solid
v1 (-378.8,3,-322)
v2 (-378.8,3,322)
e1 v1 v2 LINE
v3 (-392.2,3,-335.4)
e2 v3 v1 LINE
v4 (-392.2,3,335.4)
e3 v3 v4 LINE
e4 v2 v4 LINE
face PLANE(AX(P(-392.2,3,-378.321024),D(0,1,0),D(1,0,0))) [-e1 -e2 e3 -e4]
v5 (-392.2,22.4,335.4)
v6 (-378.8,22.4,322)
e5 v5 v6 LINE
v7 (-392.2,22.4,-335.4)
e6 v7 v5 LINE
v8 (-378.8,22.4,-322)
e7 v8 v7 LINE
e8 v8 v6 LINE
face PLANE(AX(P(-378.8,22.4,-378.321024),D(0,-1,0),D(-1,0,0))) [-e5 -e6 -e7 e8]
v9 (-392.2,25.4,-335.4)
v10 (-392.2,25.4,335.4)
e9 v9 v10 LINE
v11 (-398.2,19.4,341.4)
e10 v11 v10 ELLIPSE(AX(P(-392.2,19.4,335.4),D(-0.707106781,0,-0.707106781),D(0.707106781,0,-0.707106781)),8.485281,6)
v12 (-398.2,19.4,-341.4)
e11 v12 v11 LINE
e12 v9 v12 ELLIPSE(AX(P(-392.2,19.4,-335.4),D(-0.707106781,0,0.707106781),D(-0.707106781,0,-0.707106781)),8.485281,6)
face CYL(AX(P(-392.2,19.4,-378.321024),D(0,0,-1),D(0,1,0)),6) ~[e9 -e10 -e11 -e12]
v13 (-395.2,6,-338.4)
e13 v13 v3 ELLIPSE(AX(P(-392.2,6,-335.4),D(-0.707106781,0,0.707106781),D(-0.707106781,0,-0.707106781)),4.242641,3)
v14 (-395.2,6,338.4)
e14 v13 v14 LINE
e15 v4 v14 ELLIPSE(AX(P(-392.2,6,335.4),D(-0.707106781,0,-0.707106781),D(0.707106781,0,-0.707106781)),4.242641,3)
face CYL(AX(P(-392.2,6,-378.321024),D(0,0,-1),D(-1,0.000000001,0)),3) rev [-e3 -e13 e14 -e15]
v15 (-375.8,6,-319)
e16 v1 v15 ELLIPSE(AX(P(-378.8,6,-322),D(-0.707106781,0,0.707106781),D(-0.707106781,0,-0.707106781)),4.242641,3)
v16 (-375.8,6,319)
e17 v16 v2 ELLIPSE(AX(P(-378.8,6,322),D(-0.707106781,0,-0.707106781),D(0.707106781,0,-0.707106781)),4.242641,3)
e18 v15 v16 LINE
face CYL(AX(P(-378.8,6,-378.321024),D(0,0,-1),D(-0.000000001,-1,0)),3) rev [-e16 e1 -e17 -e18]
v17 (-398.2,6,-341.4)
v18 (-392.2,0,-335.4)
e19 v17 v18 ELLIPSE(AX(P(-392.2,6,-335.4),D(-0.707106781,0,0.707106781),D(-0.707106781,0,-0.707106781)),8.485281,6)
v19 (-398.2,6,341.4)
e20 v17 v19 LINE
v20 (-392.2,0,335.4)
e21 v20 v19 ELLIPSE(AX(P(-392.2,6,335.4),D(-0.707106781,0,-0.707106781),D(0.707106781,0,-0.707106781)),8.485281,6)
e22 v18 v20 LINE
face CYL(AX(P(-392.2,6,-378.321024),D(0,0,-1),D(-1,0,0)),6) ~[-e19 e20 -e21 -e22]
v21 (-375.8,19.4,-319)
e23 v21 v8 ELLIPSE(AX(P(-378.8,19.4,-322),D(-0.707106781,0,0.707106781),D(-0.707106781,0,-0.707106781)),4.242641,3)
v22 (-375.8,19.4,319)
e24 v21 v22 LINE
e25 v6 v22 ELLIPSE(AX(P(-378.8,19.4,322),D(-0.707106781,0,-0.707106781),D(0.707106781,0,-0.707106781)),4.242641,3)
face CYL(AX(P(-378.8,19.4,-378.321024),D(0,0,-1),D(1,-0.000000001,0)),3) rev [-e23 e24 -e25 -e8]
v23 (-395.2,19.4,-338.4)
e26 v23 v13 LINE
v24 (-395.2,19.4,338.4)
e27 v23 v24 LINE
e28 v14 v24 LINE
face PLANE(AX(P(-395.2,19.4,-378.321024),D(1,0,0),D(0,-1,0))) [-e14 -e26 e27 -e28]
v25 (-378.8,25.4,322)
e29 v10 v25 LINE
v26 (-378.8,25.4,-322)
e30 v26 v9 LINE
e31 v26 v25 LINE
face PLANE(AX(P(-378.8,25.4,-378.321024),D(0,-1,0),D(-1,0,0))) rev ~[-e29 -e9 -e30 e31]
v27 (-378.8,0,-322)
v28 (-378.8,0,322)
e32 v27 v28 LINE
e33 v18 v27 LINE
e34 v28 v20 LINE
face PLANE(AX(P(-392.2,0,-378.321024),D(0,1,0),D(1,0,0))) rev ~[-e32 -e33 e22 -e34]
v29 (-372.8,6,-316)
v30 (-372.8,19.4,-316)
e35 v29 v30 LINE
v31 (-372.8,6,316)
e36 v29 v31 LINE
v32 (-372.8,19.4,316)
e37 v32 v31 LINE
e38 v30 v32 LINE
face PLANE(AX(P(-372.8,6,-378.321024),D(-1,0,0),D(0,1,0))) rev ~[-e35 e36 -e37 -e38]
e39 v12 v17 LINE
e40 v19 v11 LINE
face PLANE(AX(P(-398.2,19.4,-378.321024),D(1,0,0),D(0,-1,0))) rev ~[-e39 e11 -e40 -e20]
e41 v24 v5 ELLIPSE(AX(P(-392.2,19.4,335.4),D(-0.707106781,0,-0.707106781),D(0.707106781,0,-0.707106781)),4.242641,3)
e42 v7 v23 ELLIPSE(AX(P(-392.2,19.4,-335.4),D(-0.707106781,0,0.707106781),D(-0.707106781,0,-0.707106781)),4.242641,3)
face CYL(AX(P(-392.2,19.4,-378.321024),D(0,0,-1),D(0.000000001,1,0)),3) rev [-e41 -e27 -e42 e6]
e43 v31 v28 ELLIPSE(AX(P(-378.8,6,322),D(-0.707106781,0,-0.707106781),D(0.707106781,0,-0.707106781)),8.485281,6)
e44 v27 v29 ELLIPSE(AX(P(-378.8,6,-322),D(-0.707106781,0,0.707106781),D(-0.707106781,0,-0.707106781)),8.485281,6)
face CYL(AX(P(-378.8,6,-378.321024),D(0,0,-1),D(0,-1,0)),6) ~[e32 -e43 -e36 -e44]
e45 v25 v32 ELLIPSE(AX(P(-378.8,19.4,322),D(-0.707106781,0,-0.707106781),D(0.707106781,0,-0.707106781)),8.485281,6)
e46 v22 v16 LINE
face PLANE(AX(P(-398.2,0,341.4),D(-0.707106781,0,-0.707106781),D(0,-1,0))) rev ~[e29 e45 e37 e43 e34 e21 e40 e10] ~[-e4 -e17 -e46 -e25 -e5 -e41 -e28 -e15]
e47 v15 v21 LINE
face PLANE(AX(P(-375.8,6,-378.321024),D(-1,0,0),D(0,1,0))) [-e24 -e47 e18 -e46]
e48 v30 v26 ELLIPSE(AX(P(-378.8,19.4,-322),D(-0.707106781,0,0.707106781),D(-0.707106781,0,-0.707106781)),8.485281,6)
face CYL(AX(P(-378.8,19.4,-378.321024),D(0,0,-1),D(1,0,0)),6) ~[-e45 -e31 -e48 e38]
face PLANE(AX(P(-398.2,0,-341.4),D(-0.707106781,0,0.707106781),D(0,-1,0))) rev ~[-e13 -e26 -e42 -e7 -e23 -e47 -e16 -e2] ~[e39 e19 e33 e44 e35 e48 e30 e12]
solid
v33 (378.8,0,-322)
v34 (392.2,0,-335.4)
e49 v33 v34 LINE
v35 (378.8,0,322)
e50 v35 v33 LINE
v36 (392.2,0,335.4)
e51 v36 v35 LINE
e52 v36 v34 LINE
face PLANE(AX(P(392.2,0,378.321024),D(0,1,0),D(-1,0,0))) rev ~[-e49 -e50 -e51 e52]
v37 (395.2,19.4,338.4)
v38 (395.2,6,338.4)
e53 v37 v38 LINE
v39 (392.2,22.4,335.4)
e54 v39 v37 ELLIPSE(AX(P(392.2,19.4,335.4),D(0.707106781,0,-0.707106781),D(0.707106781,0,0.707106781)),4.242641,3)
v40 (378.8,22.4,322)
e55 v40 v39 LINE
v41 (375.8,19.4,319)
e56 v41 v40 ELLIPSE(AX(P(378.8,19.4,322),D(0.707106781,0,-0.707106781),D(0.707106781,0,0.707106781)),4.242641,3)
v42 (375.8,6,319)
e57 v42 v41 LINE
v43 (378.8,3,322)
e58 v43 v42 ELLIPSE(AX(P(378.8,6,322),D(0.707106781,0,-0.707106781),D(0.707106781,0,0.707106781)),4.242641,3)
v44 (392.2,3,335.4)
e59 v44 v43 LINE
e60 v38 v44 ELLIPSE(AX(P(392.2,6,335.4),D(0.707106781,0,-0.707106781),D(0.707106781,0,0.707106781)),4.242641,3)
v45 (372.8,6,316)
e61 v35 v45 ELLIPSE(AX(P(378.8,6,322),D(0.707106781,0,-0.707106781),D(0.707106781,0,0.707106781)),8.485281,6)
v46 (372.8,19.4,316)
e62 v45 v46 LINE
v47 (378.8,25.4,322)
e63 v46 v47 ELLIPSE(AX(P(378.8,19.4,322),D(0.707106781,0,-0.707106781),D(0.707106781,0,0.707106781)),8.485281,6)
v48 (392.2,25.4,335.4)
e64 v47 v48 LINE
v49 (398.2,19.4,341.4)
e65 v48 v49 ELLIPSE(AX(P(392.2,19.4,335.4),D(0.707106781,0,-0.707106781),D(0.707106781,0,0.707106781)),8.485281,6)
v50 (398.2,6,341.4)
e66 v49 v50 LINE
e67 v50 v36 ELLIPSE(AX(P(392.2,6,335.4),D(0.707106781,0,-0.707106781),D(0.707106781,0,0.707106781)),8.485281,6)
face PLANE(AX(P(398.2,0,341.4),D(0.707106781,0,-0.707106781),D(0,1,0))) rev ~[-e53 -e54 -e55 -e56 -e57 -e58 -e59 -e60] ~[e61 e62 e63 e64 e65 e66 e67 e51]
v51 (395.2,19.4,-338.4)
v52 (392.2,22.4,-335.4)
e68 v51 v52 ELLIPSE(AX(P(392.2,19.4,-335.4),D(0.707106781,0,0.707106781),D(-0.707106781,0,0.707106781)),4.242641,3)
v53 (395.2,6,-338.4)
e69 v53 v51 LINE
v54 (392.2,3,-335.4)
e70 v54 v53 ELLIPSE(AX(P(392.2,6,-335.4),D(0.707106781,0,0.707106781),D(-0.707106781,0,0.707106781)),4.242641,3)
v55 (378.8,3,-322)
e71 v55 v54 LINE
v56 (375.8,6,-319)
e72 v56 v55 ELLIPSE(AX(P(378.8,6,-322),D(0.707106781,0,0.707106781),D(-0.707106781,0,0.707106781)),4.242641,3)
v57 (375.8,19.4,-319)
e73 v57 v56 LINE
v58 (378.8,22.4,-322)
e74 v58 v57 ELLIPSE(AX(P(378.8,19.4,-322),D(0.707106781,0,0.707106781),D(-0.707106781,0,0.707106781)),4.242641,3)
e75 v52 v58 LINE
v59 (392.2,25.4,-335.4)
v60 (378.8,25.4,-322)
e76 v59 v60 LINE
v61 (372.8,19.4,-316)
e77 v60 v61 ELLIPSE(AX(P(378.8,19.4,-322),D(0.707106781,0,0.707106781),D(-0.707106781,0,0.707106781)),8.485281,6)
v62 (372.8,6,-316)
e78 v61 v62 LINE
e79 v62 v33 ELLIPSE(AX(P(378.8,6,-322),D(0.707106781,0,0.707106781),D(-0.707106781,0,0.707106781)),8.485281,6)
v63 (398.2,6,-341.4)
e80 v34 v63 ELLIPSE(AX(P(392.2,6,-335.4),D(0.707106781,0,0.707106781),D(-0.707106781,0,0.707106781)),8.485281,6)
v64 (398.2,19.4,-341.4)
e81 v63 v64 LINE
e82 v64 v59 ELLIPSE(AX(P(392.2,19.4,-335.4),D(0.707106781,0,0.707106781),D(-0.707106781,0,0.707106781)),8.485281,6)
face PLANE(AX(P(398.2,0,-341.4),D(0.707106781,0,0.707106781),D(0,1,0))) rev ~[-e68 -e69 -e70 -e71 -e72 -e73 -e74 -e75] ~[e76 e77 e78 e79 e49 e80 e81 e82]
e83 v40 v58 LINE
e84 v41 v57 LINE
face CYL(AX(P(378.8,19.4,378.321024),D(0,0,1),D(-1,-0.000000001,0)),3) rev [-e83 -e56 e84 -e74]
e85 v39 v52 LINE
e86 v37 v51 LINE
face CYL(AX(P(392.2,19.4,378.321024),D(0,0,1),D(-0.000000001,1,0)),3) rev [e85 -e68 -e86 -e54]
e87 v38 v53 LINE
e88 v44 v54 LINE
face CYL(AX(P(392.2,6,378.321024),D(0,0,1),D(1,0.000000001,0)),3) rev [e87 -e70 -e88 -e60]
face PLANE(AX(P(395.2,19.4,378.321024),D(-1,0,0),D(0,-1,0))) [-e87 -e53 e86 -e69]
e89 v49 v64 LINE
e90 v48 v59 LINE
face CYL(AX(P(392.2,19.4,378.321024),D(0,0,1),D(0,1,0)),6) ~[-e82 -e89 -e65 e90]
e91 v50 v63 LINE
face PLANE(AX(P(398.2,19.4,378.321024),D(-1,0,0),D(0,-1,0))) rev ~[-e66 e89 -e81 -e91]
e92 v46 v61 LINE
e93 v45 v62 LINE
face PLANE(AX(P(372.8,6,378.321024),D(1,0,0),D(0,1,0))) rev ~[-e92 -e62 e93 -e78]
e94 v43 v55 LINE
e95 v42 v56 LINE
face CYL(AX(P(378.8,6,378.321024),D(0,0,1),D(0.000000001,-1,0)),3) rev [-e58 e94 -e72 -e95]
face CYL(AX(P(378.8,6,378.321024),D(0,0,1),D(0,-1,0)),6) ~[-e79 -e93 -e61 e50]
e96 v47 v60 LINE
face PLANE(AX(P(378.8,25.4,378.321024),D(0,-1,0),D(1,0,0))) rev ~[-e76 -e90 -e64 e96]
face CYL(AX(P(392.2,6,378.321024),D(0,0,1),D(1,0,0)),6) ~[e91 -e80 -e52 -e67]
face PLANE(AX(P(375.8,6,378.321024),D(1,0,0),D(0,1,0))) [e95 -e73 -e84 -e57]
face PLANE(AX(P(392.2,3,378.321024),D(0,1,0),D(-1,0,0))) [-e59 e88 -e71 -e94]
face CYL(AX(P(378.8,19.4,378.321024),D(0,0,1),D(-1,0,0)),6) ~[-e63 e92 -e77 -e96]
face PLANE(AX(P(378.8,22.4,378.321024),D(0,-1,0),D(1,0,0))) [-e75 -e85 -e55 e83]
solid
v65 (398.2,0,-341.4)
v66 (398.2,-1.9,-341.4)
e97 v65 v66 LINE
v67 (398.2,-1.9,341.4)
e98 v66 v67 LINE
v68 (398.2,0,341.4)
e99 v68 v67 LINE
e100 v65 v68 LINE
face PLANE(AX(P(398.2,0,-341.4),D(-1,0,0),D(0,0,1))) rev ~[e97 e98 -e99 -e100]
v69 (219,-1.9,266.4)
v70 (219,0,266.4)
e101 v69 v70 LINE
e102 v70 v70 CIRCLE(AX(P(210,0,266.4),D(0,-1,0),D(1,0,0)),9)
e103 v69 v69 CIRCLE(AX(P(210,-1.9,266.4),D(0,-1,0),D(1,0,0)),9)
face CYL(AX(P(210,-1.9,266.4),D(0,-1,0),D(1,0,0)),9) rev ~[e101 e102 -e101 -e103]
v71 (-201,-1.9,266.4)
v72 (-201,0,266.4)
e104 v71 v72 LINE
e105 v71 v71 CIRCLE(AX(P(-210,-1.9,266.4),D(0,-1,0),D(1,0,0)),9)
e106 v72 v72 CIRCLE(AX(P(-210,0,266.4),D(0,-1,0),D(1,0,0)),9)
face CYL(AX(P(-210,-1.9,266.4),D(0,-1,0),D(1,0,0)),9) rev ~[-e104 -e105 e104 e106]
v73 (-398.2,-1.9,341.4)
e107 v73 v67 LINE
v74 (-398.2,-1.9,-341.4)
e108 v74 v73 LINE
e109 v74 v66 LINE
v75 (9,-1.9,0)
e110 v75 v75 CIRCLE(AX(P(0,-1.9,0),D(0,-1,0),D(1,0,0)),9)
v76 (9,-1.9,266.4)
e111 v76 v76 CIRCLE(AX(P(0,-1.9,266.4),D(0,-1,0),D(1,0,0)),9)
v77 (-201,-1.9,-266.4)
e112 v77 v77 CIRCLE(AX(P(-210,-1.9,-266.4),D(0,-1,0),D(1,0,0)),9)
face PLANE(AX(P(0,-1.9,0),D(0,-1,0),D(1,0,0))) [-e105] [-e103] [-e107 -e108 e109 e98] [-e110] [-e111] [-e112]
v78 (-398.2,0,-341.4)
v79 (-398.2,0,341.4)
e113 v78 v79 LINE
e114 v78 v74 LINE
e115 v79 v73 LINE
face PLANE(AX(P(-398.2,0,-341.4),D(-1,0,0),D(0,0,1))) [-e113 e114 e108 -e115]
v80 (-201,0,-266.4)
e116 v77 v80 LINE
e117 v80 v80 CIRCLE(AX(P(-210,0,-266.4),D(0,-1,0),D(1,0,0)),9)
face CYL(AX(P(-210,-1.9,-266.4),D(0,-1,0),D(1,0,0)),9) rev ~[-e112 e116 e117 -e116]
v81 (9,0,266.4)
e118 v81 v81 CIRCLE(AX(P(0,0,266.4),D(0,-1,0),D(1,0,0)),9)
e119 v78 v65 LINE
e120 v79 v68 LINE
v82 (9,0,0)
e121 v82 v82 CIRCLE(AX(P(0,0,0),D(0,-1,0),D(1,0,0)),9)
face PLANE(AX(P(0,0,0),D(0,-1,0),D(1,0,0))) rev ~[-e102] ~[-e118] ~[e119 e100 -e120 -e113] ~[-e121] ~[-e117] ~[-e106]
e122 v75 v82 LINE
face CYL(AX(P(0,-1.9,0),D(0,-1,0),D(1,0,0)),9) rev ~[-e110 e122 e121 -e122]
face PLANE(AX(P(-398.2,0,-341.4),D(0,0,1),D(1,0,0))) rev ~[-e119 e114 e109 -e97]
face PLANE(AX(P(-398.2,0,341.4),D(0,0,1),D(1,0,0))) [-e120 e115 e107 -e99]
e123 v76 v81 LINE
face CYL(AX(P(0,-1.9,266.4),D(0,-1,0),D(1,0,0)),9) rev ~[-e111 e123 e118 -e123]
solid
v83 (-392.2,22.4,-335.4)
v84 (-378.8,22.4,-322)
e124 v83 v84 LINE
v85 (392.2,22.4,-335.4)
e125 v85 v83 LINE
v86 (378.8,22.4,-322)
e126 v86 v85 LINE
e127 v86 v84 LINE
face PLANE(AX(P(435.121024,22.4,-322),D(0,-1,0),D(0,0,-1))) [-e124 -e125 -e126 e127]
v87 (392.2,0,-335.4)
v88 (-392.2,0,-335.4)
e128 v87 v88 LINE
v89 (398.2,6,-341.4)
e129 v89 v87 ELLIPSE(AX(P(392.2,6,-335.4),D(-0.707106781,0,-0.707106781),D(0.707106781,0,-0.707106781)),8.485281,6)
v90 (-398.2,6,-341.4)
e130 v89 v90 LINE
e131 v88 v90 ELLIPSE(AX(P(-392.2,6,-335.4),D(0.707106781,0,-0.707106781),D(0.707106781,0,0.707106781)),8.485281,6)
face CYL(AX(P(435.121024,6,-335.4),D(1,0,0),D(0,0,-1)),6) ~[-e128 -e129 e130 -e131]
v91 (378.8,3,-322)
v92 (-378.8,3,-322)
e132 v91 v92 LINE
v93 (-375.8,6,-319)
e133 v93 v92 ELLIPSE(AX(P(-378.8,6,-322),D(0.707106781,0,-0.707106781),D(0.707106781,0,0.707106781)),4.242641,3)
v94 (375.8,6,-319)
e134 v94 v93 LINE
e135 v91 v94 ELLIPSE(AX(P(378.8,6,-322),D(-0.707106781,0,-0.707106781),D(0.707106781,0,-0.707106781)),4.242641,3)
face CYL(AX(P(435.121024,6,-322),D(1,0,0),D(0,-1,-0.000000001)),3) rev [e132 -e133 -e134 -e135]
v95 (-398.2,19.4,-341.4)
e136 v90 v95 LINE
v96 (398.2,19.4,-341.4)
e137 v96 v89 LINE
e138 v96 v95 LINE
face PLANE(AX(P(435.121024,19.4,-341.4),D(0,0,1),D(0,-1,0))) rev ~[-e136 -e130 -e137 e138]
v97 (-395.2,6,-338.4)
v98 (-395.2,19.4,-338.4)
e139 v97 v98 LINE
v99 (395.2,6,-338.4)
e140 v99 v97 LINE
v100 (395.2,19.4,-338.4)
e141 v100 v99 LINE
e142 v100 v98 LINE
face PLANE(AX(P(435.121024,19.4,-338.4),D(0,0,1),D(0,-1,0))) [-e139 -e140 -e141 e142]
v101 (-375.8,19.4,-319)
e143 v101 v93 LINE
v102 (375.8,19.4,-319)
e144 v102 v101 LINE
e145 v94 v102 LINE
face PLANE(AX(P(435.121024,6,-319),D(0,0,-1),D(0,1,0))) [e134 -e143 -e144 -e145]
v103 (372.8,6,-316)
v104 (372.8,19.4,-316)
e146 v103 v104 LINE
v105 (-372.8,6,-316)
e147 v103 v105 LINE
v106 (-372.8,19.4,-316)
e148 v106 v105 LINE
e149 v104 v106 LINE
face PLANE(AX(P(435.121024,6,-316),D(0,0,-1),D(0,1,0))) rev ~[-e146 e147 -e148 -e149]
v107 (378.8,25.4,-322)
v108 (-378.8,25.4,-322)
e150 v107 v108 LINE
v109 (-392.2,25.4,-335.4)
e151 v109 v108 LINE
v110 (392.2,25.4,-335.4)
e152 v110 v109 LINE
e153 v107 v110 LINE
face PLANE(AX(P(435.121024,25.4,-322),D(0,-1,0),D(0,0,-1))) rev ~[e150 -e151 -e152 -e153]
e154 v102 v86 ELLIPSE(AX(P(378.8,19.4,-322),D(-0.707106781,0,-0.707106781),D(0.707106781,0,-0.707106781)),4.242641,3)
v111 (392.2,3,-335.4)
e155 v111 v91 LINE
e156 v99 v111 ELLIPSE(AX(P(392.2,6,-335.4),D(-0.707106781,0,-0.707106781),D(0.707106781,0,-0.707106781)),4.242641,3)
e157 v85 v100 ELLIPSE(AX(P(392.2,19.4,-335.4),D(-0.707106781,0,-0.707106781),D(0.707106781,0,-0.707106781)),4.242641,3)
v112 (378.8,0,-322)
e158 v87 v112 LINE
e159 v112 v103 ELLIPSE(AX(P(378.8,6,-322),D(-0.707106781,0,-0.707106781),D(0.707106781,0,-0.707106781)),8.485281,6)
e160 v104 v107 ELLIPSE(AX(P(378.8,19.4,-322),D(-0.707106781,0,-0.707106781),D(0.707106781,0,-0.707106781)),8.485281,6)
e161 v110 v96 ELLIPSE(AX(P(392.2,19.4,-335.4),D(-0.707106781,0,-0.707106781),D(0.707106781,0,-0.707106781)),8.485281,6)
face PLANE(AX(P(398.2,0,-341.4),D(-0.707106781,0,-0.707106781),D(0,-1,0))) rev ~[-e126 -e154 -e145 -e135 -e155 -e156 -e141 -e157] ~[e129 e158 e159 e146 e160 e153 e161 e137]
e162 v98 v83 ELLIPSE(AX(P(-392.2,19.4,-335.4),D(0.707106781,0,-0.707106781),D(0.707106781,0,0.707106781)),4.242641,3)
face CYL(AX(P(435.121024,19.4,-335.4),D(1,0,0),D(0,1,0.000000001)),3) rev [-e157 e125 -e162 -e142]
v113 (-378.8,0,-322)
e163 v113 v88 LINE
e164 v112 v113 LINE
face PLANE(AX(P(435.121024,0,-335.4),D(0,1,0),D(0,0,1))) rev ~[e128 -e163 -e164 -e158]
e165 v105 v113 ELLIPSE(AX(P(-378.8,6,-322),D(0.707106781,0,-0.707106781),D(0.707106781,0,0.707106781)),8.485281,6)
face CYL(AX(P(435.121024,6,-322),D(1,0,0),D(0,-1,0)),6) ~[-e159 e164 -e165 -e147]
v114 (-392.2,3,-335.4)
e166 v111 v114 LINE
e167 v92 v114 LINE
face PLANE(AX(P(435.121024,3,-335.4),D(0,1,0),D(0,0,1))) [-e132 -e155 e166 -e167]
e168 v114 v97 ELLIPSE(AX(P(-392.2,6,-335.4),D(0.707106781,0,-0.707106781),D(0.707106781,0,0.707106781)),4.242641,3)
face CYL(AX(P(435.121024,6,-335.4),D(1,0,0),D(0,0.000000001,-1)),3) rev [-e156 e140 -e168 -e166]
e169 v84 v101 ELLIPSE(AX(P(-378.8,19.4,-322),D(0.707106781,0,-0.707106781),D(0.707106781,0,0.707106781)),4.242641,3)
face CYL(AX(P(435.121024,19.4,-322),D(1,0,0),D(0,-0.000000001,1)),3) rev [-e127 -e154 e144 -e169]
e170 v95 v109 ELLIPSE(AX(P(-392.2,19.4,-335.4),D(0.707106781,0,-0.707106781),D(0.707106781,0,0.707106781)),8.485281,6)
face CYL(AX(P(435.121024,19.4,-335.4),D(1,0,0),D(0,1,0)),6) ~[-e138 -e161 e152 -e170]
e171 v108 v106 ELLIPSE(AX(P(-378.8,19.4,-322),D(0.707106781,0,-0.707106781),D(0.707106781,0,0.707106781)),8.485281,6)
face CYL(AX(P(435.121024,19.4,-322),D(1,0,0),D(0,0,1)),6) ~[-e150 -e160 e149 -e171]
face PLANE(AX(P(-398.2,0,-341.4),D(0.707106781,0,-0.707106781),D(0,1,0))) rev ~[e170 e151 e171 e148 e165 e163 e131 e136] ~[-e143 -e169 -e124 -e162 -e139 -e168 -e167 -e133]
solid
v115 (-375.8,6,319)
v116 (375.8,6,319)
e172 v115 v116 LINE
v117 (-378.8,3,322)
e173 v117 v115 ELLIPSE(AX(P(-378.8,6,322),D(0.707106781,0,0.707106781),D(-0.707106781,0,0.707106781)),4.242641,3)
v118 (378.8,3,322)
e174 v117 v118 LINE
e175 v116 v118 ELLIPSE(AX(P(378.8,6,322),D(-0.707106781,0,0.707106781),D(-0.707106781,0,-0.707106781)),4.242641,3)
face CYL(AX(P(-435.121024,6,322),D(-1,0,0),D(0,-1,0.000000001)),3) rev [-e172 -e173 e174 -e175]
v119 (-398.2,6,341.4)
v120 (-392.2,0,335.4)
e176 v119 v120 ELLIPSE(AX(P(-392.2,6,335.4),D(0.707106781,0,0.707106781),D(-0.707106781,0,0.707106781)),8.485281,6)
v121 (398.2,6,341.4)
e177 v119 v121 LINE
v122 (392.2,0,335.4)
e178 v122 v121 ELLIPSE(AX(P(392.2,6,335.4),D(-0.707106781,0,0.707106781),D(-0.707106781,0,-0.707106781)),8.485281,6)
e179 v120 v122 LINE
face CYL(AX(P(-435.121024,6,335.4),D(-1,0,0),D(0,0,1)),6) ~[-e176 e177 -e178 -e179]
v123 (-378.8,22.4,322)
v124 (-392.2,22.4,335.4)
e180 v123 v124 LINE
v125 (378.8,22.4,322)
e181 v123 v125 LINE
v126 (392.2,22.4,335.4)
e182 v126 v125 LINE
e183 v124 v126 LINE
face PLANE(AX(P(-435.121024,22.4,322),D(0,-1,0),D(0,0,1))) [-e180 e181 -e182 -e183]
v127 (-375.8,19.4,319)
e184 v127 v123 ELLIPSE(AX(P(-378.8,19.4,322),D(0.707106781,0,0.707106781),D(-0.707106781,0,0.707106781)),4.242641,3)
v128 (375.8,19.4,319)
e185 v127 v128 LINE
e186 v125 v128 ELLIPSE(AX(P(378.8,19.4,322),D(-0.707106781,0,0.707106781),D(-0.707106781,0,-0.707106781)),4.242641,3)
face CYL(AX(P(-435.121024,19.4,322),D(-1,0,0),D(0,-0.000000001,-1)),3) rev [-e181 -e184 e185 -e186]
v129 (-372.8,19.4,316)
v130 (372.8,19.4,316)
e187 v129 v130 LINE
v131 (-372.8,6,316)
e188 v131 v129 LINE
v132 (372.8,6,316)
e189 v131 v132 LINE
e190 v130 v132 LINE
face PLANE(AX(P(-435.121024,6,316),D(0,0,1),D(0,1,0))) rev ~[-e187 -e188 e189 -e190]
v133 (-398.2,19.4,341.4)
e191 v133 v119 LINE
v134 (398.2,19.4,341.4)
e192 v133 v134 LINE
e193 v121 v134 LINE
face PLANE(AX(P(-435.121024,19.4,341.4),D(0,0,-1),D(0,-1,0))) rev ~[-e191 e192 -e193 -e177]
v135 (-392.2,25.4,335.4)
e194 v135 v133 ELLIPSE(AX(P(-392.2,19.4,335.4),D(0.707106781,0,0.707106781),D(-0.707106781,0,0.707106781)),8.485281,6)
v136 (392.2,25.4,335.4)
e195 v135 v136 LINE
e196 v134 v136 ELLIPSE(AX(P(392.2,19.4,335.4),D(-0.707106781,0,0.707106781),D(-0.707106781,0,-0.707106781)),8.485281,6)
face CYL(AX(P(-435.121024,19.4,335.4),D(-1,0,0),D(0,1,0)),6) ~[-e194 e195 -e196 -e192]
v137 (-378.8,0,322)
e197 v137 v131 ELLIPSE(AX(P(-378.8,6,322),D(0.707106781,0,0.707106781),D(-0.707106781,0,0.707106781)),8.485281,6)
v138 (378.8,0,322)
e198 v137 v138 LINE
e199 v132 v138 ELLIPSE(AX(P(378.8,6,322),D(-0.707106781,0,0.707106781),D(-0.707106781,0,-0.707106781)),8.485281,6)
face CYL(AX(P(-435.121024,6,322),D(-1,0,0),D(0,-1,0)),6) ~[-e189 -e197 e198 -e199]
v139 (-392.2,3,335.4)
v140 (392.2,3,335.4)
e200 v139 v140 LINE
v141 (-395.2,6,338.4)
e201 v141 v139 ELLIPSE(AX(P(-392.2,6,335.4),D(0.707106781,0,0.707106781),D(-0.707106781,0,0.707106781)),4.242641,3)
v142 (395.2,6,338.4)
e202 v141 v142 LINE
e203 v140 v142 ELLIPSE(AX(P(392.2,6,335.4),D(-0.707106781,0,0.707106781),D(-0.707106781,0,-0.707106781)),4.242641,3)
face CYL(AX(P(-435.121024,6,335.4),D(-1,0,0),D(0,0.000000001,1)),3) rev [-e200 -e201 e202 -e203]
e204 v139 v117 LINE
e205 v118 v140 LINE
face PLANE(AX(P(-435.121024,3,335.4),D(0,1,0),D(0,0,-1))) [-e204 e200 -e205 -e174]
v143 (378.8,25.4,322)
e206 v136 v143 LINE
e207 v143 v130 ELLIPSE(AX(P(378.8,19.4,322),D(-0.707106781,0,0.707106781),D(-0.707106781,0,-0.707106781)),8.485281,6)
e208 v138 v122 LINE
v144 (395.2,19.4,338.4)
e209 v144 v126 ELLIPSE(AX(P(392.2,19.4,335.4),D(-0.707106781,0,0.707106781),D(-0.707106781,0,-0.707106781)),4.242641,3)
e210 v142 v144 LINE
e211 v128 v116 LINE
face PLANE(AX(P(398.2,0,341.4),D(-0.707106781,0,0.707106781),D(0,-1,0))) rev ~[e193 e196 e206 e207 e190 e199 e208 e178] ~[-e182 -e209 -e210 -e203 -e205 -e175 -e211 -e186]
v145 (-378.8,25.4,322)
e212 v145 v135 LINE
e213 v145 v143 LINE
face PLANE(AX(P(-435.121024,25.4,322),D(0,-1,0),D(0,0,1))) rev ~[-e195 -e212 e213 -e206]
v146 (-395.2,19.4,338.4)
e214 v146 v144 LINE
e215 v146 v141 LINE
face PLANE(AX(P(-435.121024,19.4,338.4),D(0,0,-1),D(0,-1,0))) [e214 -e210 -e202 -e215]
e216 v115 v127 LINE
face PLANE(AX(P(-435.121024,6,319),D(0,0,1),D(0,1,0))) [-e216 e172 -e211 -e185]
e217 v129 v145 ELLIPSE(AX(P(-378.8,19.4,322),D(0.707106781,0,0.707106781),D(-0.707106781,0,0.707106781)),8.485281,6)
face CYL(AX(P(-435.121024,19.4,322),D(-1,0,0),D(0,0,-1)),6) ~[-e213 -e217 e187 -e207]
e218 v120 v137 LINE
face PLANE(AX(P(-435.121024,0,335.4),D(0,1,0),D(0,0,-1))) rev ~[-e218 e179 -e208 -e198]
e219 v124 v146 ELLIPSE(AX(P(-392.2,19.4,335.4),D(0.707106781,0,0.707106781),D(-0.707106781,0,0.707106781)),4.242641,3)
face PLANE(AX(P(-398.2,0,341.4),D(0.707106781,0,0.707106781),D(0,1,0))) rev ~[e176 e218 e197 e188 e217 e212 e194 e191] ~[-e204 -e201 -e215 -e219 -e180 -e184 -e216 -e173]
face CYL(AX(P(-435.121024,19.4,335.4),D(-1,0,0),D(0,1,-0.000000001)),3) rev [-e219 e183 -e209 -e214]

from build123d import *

# Parameters (mm, degrees)
TUBO_CUADRADO_2_X_2_X_0_25_1_DEPTH      = 719.721024484
TUBO_CUADRADO_2_X_2_X_0_25_1_DEPTH_BACK = 36.921024484
TUBO_CUADRADO_2_X_2_X_0_25_1_2_DEPTH    = 870.242048969
TUBO_CUADRADO_2_X_2_X_0_25_1_3_DEPTH    = 756.642048969
TUBO_CUADRADO_2_X_2_X_0_25_1_4_DEPTH    = 870.242048969
CROQUIS3_W                              = 796.4
CROQUIS3_H                              = 682.8
SALIENTE_EXTRUIR1_DEPTH                 = 1.9
CROQUIS6_R                              = 9
CORTAR_EXTRUIR2_DEPTH                   = 10


with BuildPart() as part:
    # Sketch1 → Tubo cuadrado 2 X 2 X 0.25(1) (new, two sides: drawn at the far end of the back side and taken through both)
    with BuildSketch(Plane(origin=(-385.5, 12.7, -341.4), x_dir=(1, 0, 0), z_dir=(0, 0, 1)).offset(-TUBO_CUADRADO_2_X_2_X_0_25_1_DEPTH_BACK)):
        with BuildLine():
            Line((-6.7, -12.7), (6.7, -12.7))
            ThreePointArc((6.7, -12.7), (10.942640687, -10.942640687), (12.7, -6.7))
            Line((12.7, -6.7), (12.7, 6.7))
            ThreePointArc((12.7, 6.7), (10.942640687, 10.942640687), (6.7, 12.7))
            Line((6.7, 12.7), (-6.7, 12.7))
            ThreePointArc((-6.7, 12.7), (-10.942640687, 10.942640687), (-12.7, 6.7))
            Line((-12.7, 6.7), (-12.7, -6.7))
            ThreePointArc((-12.7, -6.7), (-10.942640687, -10.942640687), (-6.7, -12.7))
        make_face()
        with BuildLine():
            Line((-6.7, -9.7), (6.7, -9.7))
            ThreePointArc((6.7, -9.7), (8.821320344, -8.821320344), (9.7, -6.7))
            Line((9.7, -6.7), (9.7, 6.7))
            ThreePointArc((9.7, 6.7), (8.821320344, 8.821320344), (6.7, 9.7))
            Line((6.7, 9.7), (-6.7, 9.7))
            ThreePointArc((-6.7, 9.7), (-8.821320344, 8.821320344), (-9.7, 6.7))
            Line((-9.7, 6.7), (-9.7, -6.7))
            ThreePointArc((-9.7, -6.7), (-8.821320344, -8.821320344), (-6.7, -9.7))
        make_face(mode=Mode.SUBTRACT)
    extrude(amount=TUBO_CUADRADO_2_X_2_X_0_25_1_DEPTH + TUBO_CUADRADO_2_X_2_X_0_25_1_DEPTH_BACK)

    # Tubo cuadrado 2 X 2 X 0.25(1) mitre 1
    split(bisect_by=Plane(origin=(-398.2, 0, -341.4), x_dir=(0, -1, 0), z_dir=(-0.707106781, 0, 0.707106781)), keep=Keep.TOP)

    # Tubo cuadrado 2 X 2 X 0.25(1) mitre 2
    split(bisect_by=Plane(origin=(-398.2, 0, 341.4), x_dir=(0, -1, 0), z_dir=(-0.707106781, 0, -0.707106781)), keep=Keep.TOP)


with BuildPart() as body_2:
    # Sketch1 on segment 2 (carried to segment 2) → Tubo cuadrado 2 X 2 X 0.25_1 2 (new body)
    with BuildSketch(Plane(origin=(-435.121024484, 12.7, 328.7), x_dir=(0, 0, -1), z_dir=(1, 0, 0))):
        with BuildLine():
            Line((-6.7, -12.7), (6.7, -12.7))
            ThreePointArc((6.7, -12.7), (10.942640687, -10.942640687), (12.7, -6.7))
            Line((12.7, -6.7), (12.7, 6.7))
            ThreePointArc((12.7, 6.7), (10.942640687, 10.942640687), (6.7, 12.7))
            Line((6.7, 12.7), (-6.7, 12.7))
            ThreePointArc((-6.7, 12.7), (-10.942640687, 10.942640687), (-12.7, 6.7))
            Line((-12.7, 6.7), (-12.7, -6.7))
            ThreePointArc((-12.7, -6.7), (-10.942640687, -10.942640687), (-6.7, -12.7))
        make_face()
        with BuildLine():
            Line((-6.7, -9.7), (6.7, -9.7))
            ThreePointArc((6.7, -9.7), (8.821320344, -8.821320344), (9.7, -6.7))
            Line((9.7, -6.7), (9.7, 6.7))
            ThreePointArc((9.7, 6.7), (8.821320344, 8.821320344), (6.7, 9.7))
            Line((6.7, 9.7), (-6.7, 9.7))
            ThreePointArc((-6.7, 9.7), (-8.821320344, 8.821320344), (-9.7, 6.7))
            Line((-9.7, 6.7), (-9.7, -6.7))
            ThreePointArc((-9.7, -6.7), (-8.821320344, -8.821320344), (-6.7, -9.7))
        make_face(mode=Mode.SUBTRACT)
    extrude(amount=TUBO_CUADRADO_2_X_2_X_0_25_1_2_DEPTH)

    # Tubo cuadrado 2 X 2 X 0.25_1 2 mitre 1
    split(bisect_by=Plane(origin=(-398.2, 0, 341.4), x_dir=(0, 1, 0), z_dir=(0.707106781, 0, 0.707106781)), keep=Keep.TOP)

    # Tubo cuadrado 2 X 2 X 0.25_1 2 mitre 2
    split(bisect_by=Plane(origin=(398.2, 0, 341.4), x_dir=(0, -1, 0), z_dir=(-0.707106781, 0, 0.707106781)), keep=Keep.TOP)


with BuildPart() as body_3:
    # Sketch1 on segment 3 (carried to segment 3) → Tubo cuadrado 2 X 2 X 0.25_1 3 (new body)
    with BuildSketch(Plane(origin=(385.5, 12.7, 378.321024484), x_dir=(-1, 0, 0), z_dir=(0, 0, -1))):
        with BuildLine():
            Line((-6.7, -12.7), (6.7, -12.7))
            ThreePointArc((6.7, -12.7), (10.942640687, -10.942640687), (12.7, -6.7))
            Line((12.7, -6.7), (12.7, 6.7))
            ThreePointArc((12.7, 6.7), (10.942640687, 10.942640687), (6.7, 12.7))
            Line((6.7, 12.7), (-6.7, 12.7))
            ThreePointArc((-6.7, 12.7), (-10.942640687, 10.942640687), (-12.7, 6.7))
            Line((-12.7, 6.7), (-12.7, -6.7))
            ThreePointArc((-12.7, -6.7), (-10.942640687, -10.942640687), (-6.7, -12.7))
        make_face()
        with BuildLine():
            Line((-6.7, -9.7), (6.7, -9.7))
            ThreePointArc((6.7, -9.7), (8.821320344, -8.821320344), (9.7, -6.7))
            Line((9.7, -6.7), (9.7, 6.7))
            ThreePointArc((9.7, 6.7), (8.821320344, 8.821320344), (6.7, 9.7))
            Line((6.7, 9.7), (-6.7, 9.7))
            ThreePointArc((-6.7, 9.7), (-8.821320344, 8.821320344), (-9.7, 6.7))
            Line((-9.7, 6.7), (-9.7, -6.7))
            ThreePointArc((-9.7, -6.7), (-8.821320344, -8.821320344), (-6.7, -9.7))
        make_face(mode=Mode.SUBTRACT)
    extrude(amount=TUBO_CUADRADO_2_X_2_X_0_25_1_3_DEPTH)

    # Tubo cuadrado 2 X 2 X 0.25_1 3 mitre 1
    split(bisect_by=Plane(origin=(398.2, 0, -341.4), x_dir=(0, 1, 0), z_dir=(0.707106781, 0, 0.707106781)), keep=Keep.TOP)

    # Tubo cuadrado 2 X 2 X 0.25_1 3 mitre 2
    split(bisect_by=Plane(origin=(398.2, 0, 341.4), x_dir=(0, 1, 0), z_dir=(0.707106781, 0, -0.707106781)), keep=Keep.TOP)


with BuildPart() as body_4:
    # Sketch1 on segment 4 (carried to segment 4) → Tubo cuadrado 2 X 2 X 0.25_1 4 (new body)
    with BuildSketch(Plane(origin=(435.121024484, 12.7, -328.7), x_dir=(0, 0, 1), z_dir=(-1, 0, 0))):
        with BuildLine():
            Line((-6.7, -12.7), (6.7, -12.7))
            ThreePointArc((6.7, -12.7), (10.942640687, -10.942640687), (12.7, -6.7))
            Line((12.7, -6.7), (12.7, 6.7))
            ThreePointArc((12.7, 6.7), (10.942640687, 10.942640687), (6.7, 12.7))
            Line((6.7, 12.7), (-6.7, 12.7))
            ThreePointArc((-6.7, 12.7), (-10.942640687, 10.942640687), (-12.7, 6.7))
            Line((-12.7, 6.7), (-12.7, -6.7))
            ThreePointArc((-12.7, -6.7), (-10.942640687, -10.942640687), (-6.7, -12.7))
        make_face()
        with BuildLine():
            Line((-6.7, -9.7), (6.7, -9.7))
            ThreePointArc((6.7, -9.7), (8.821320344, -8.821320344), (9.7, -6.7))
            Line((9.7, -6.7), (9.7, 6.7))
            ThreePointArc((9.7, 6.7), (8.821320344, 8.821320344), (6.7, 9.7))
            Line((6.7, 9.7), (-6.7, 9.7))
            ThreePointArc((-6.7, 9.7), (-8.821320344, 8.821320344), (-9.7, 6.7))
            Line((-9.7, 6.7), (-9.7, -6.7))
            ThreePointArc((-9.7, -6.7), (-8.821320344, -8.821320344), (-6.7, -9.7))
        make_face(mode=Mode.SUBTRACT)
    extrude(amount=TUBO_CUADRADO_2_X_2_X_0_25_1_4_DEPTH)

    # Tubo cuadrado 2 X 2 X 0.25_1 4 mitre 1
    split(bisect_by=Plane(origin=(-398.2, 0, -341.4), x_dir=(0, 1, 0), z_dir=(0.707106781, 0, -0.707106781)), keep=Keep.TOP)

    # Tubo cuadrado 2 X 2 X 0.25_1 4 mitre 2
    split(bisect_by=Plane(origin=(398.2, 0, -341.4), x_dir=(0, -1, 0), z_dir=(-0.707106781, 0, -0.707106781)), keep=Keep.TOP)


with BuildPart() as body_5:
    # Croquis3 → Saliente-Extruir1 (new body)
    with BuildSketch(Plane.XZ):
        Rectangle(CROQUIS3_W, CROQUIS3_H)
    extrude(amount=SALIENTE_EXTRUIR1_DEPTH)

    # Croquis6 → Cortar-Extruir2 (cut)
    with BuildSketch(Plane.XZ.offset(1.9)):
        Circle(CROQUIS6_R)
        with Locations((210, 266.4)):
            Circle(CROQUIS6_R)
        with Locations((0, 266.4)):
            Circle(CROQUIS6_R)
        with Locations((-210, 266.4)):
            Circle(CROQUIS6_R)
        with Locations((-210, -266.4)):
            Circle(CROQUIS6_R)
    extrude(amount=-CORTAR_EXTRUIR2_DEPTH, mode=Mode.SUBTRACT)


solid = Compound([part.part, body_2.part, body_3.part, body_4.part, body_5.part])
